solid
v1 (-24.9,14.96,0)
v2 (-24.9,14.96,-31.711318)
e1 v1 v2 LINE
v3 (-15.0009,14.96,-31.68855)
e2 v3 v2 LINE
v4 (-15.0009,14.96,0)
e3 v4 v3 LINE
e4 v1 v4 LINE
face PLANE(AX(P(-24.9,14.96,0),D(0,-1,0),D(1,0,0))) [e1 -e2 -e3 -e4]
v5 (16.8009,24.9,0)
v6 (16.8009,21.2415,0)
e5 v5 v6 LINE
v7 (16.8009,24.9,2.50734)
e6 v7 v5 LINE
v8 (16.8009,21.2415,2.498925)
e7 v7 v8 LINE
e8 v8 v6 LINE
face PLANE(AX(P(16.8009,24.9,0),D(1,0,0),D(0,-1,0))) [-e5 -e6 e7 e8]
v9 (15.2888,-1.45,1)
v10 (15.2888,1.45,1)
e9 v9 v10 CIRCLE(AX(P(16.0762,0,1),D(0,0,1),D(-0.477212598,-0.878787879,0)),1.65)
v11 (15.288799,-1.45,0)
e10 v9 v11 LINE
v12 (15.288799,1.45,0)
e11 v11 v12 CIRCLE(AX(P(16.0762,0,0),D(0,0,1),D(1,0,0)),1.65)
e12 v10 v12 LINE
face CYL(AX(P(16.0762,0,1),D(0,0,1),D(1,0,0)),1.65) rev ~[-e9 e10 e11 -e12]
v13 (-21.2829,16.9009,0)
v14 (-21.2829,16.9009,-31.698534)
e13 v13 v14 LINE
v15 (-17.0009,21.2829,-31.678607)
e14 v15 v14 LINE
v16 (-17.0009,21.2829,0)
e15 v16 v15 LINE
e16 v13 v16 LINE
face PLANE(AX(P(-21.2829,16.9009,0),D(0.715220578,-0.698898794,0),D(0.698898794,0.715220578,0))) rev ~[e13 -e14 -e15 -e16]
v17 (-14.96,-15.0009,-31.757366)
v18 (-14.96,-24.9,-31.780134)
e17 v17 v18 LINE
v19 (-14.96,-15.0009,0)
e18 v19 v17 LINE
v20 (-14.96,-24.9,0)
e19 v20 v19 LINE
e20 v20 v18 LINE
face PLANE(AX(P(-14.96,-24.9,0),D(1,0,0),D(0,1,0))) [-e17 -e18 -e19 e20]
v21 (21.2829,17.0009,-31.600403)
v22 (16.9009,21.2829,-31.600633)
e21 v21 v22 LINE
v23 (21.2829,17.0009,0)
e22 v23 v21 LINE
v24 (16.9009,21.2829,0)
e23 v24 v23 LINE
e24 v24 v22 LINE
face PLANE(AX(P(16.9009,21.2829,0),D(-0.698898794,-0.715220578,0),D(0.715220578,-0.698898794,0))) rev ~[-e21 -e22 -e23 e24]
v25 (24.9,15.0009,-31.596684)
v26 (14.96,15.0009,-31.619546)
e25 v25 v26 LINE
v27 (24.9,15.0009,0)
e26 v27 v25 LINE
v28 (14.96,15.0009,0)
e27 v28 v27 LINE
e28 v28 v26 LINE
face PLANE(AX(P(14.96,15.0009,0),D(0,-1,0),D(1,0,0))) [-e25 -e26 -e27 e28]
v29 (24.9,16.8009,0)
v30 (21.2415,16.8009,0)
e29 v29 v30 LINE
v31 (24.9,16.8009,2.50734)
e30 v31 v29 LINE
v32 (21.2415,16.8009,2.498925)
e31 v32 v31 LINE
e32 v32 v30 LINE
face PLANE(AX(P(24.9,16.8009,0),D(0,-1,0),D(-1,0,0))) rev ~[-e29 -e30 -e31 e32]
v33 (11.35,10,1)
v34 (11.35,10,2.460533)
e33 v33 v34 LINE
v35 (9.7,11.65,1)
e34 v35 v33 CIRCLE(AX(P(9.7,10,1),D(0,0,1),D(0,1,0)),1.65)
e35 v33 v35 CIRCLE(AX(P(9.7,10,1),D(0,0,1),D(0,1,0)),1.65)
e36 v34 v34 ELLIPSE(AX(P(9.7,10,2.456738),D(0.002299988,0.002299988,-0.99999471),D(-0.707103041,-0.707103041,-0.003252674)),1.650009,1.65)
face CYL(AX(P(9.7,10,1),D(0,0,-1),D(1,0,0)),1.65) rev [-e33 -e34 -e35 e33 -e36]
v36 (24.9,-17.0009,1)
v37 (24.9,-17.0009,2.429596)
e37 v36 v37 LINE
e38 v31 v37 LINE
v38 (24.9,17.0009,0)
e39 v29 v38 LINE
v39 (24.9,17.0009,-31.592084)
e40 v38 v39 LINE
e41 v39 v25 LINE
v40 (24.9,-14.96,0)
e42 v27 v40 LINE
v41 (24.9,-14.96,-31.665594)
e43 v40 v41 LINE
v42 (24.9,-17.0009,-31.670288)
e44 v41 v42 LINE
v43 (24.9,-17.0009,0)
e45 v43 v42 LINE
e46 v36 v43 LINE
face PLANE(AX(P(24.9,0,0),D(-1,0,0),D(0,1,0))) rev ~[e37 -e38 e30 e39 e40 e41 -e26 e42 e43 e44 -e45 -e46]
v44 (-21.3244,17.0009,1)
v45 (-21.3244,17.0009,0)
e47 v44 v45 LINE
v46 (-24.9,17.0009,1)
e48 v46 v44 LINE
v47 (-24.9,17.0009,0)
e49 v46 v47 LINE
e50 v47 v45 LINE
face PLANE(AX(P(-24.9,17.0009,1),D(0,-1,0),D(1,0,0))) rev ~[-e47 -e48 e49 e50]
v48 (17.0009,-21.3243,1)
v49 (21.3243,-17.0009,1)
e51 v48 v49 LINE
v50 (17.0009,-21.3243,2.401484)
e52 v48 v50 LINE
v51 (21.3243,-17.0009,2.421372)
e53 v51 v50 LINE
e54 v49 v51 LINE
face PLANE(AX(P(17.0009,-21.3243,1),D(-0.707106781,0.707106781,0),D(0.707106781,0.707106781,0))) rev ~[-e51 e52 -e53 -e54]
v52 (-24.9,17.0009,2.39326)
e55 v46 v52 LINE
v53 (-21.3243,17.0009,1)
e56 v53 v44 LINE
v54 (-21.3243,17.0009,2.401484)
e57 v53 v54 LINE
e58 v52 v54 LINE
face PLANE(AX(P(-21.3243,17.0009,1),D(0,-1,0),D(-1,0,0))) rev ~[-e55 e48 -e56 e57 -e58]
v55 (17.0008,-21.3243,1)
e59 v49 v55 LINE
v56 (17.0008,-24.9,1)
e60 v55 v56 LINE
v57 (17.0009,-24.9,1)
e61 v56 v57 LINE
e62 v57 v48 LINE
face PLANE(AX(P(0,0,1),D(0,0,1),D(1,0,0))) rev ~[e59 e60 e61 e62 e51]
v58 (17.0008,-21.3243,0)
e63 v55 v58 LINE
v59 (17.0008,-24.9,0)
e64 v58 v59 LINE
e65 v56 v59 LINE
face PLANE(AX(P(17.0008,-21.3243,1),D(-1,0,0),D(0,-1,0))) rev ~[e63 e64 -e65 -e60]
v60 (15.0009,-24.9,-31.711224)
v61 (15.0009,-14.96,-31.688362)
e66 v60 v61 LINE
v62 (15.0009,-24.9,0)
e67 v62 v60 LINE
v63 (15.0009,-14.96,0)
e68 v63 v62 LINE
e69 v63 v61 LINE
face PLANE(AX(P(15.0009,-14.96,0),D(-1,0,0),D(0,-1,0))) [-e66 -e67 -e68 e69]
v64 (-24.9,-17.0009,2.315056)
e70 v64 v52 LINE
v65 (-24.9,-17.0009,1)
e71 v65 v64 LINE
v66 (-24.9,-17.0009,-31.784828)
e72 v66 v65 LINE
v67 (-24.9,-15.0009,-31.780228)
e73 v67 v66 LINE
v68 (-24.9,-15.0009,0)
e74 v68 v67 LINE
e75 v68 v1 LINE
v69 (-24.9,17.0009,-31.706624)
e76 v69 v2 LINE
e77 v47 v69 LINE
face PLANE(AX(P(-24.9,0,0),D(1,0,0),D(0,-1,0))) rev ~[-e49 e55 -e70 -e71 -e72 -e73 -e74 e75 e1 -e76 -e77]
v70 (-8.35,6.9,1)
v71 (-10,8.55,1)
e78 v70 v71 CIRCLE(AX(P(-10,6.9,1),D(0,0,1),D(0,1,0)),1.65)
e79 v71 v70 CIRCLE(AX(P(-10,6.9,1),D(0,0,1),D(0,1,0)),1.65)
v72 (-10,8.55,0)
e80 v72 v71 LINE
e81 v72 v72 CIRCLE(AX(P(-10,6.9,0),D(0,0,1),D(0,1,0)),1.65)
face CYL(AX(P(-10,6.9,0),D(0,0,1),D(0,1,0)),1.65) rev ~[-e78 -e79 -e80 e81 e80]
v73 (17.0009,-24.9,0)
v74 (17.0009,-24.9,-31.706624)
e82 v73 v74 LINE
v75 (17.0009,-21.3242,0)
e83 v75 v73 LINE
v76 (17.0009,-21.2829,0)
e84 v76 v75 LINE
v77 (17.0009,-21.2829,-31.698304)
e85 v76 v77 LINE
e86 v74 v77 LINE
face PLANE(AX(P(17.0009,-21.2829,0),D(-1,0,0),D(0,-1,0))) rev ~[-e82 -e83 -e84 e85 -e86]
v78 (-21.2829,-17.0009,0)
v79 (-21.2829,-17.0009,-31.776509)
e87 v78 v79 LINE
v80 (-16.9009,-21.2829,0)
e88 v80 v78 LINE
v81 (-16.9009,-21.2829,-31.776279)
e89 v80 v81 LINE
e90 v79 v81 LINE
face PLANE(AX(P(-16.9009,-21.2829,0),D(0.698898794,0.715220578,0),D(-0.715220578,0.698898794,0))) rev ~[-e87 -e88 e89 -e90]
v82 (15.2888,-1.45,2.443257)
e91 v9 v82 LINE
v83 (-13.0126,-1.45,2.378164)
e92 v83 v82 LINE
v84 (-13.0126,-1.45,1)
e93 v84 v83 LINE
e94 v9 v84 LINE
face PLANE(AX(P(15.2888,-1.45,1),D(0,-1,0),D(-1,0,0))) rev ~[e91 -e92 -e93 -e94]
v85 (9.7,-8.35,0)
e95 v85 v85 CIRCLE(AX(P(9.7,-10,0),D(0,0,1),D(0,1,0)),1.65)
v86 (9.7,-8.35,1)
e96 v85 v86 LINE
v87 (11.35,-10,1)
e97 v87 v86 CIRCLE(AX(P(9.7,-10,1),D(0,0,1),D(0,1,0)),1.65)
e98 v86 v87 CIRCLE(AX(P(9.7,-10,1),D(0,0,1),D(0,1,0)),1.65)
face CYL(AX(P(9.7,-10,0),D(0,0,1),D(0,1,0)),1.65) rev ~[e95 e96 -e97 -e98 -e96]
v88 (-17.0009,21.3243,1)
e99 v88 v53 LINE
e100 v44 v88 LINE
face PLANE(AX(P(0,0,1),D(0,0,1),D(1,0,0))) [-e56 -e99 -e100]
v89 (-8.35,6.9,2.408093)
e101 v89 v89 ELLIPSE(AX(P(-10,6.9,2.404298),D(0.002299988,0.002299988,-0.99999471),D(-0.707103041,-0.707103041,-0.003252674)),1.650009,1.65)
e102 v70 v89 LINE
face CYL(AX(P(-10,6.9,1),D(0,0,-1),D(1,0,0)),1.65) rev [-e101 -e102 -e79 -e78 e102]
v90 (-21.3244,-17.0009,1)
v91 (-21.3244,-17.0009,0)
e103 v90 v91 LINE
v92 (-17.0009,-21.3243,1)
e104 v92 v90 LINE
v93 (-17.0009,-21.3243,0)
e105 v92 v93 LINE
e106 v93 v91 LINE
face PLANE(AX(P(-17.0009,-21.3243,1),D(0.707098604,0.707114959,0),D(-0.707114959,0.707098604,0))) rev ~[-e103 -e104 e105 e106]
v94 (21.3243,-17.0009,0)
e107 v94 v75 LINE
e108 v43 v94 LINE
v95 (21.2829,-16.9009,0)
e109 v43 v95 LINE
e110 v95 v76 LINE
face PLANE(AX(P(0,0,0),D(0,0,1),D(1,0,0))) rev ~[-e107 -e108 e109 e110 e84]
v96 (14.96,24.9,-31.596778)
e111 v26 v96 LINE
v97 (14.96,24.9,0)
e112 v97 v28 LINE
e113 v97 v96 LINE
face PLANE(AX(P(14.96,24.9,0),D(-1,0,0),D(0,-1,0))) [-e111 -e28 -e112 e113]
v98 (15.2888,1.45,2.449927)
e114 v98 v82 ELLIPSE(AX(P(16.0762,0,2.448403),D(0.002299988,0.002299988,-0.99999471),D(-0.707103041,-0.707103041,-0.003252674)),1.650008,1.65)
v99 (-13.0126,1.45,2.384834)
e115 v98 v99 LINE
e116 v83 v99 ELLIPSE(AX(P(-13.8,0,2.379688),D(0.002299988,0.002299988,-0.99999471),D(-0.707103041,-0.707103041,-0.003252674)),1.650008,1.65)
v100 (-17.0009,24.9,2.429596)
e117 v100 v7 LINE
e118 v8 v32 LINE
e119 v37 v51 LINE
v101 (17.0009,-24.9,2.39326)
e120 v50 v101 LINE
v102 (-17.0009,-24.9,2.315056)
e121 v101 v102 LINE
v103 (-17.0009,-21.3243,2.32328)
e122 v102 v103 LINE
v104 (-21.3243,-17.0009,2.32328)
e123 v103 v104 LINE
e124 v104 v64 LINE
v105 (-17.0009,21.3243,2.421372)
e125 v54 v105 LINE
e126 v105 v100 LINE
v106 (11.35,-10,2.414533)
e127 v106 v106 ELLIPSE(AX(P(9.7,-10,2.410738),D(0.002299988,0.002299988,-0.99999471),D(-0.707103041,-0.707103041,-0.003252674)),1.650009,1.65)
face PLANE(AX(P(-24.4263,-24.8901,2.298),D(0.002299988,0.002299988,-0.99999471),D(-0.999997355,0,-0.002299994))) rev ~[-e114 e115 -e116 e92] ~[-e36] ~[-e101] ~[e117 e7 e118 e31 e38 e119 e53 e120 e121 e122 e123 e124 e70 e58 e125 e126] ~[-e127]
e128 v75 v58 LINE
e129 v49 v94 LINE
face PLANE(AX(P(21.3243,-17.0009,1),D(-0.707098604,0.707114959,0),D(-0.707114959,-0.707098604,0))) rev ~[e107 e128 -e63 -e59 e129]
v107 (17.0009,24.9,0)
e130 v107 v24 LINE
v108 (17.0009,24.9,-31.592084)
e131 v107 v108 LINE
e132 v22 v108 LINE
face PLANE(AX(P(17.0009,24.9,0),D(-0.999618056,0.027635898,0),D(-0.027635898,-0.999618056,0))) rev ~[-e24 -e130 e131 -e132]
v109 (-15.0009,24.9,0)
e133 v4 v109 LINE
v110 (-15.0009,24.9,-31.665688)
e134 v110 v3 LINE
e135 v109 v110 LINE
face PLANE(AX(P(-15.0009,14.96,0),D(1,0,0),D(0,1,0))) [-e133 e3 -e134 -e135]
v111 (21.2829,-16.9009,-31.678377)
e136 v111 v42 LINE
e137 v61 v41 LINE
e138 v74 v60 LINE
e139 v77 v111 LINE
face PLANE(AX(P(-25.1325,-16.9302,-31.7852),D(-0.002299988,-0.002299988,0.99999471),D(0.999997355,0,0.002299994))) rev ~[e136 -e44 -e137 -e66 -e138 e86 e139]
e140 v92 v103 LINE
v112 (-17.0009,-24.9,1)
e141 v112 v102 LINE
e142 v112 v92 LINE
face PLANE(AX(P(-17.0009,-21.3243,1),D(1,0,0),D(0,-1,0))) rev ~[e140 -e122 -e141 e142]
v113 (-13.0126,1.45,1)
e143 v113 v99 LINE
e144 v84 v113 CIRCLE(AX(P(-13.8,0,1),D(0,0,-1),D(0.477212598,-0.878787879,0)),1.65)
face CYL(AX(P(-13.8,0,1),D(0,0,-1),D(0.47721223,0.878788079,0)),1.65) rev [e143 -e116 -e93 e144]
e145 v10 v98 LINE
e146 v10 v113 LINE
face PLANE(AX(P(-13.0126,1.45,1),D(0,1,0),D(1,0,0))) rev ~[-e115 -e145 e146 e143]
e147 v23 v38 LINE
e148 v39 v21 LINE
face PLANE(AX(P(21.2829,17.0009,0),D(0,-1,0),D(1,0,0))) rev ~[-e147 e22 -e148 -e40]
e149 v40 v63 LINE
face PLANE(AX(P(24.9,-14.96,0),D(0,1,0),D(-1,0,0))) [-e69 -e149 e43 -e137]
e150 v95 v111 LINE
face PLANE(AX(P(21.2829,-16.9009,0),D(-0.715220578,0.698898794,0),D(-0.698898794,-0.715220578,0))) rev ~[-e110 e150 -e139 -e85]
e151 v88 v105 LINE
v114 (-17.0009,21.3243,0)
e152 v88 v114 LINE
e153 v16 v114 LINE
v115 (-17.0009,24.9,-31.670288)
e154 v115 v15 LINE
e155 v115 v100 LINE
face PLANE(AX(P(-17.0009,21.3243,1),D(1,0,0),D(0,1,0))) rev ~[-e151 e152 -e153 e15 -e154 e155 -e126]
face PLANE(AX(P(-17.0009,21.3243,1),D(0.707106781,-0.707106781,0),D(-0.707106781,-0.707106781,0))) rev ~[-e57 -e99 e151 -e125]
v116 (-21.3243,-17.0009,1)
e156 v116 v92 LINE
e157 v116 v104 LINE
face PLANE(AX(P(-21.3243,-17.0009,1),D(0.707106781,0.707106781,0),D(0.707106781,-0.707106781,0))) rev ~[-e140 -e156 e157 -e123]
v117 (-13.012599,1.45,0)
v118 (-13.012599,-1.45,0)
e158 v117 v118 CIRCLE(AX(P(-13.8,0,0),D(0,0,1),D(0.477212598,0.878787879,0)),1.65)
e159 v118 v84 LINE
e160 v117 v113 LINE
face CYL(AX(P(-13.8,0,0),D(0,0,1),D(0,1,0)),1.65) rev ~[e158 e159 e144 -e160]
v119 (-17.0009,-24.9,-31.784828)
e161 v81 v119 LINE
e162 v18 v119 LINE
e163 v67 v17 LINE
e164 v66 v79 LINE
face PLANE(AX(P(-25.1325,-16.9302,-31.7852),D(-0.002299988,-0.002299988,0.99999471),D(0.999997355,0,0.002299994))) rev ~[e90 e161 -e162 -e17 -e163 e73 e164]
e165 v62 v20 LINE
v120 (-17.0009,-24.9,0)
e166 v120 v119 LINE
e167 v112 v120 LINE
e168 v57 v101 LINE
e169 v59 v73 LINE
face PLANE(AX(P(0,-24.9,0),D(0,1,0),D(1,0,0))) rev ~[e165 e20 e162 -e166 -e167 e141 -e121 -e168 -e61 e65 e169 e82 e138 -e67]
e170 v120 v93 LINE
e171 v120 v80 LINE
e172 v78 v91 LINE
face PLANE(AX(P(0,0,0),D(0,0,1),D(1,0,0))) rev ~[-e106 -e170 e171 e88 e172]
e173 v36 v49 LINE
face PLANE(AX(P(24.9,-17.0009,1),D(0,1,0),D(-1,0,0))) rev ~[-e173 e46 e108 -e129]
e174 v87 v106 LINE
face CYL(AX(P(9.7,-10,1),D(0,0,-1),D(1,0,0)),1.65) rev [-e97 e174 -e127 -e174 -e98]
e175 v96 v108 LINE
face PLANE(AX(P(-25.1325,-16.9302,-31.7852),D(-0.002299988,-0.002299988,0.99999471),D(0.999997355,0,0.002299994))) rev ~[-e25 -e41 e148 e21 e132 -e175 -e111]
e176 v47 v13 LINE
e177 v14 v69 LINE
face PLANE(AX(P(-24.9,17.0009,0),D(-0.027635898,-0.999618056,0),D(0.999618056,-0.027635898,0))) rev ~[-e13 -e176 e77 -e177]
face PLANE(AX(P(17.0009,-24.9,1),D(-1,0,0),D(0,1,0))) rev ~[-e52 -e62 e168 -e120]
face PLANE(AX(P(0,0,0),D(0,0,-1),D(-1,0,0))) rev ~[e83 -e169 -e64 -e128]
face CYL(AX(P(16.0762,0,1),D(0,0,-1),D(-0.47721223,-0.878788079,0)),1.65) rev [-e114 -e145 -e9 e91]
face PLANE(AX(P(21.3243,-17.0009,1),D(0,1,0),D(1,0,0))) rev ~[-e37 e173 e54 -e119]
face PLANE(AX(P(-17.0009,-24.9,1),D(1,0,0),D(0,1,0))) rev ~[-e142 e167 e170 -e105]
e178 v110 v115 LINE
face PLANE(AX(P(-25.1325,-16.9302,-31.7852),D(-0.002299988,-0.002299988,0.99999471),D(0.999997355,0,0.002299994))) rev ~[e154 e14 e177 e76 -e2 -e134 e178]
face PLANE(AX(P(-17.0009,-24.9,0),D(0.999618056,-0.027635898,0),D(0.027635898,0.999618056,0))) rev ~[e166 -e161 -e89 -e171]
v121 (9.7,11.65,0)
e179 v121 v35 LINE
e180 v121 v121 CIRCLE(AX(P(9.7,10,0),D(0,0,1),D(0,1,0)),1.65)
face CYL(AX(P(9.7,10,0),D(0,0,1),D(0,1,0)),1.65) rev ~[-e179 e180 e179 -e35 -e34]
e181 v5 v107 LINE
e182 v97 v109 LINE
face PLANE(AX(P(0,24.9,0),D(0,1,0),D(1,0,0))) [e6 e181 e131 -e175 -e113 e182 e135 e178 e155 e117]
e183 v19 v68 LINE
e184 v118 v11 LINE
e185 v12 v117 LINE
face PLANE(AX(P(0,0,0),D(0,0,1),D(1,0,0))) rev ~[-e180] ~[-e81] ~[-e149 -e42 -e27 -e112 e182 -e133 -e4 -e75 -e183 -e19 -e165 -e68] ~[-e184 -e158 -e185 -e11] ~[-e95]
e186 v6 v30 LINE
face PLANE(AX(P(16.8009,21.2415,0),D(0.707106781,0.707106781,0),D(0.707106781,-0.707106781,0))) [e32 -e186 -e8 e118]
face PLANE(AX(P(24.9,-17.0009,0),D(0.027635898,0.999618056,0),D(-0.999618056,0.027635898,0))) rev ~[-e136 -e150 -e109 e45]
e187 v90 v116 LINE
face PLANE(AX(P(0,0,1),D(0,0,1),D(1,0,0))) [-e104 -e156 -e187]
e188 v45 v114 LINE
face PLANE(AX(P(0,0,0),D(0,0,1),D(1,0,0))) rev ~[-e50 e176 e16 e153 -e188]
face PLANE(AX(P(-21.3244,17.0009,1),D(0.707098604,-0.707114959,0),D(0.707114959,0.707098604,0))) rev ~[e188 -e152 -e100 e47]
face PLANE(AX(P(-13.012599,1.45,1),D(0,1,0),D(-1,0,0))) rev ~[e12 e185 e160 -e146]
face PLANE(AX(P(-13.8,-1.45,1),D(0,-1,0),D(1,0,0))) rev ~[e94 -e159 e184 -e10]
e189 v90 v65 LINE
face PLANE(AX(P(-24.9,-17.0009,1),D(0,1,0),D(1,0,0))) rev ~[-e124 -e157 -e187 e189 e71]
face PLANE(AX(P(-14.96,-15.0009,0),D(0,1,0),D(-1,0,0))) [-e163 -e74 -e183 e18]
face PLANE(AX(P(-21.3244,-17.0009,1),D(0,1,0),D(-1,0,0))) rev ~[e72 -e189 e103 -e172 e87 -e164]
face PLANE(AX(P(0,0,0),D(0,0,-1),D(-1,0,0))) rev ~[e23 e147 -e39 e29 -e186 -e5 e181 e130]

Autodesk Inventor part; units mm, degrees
ref_plane "Work Plane1" through (-29.1, -14.5, 2.4) normal (0, 0, -1) x (0, 1, 0)
ref_plane "Work Plane2" through (-13.8999, -10.5497, 2.25) normal (0, 0, -1) x (0, 1, 0)
ref_plane "Work Plane4" through (-17.3325, -17.0101, 2.3331) normal (0.0023, 0.0023, -1) x (0, 1, 0.0023)
sketch "Sketch1" plane through (0, 0, 0) normal (0, 0, 1) x (1, 0, 0)
  line L0 (-34.86, 0) -> (34.86, 0) construction
  line L1 (0, -34.86) -> (0, 34.86) construction
  line L2 (0, 0) -> (11.1575, 11.1575) construction
  line L3 (0, 0) -> (15.7791, 0) construction
  line L4 (0, 24.9) -> (16.8009, 24.9)
  line L5 (16.8009, 24.9) -> (16.8009, 21.2415)
  line L6 (16.8009, 21.2415) -> (19.0212, 19.0212)
  line L7 (24.9, 0) -> (24.9, 16.8009)
  line L8 (24.9, 16.8009) -> (21.2415, 16.8009)
  line L9 (21.2415, 16.8009) -> (19.0212, 19.0212)
  line L10 (0, -24.9) -> (16.8009, -24.9)
  line L11 (16.8009, -24.9) -> (16.8009, -21.2415)
  line L12 (16.8009, -21.2415) -> (19.0212, -19.0212)
  line L13 (24.9, 0) -> (24.9, -16.8009)
  line L14 (24.9, -16.8009) -> (21.2415, -16.8009)
  line L15 (21.2415, -16.8009) -> (19.0212, -19.0212)
  line L16 (0, 24.9) -> (-16.8009, 24.9)
  line L17 (-16.8009, 24.9) -> (-16.8009, 21.2415)
  line L18 (-16.8009, 21.2415) -> (-19.0212, 19.0212)
  line L19 (-24.9, 16.8009) -> (-21.2415, 16.8009)
  line L20 (-21.2415, 16.8009) -> (-19.0212, 19.0212)
  line L21 (0, -24.9) -> (-16.8009, -24.9)
  line L22 (-16.8009, -24.9) -> (-16.8009, -21.2415)
  line L23 (-16.8009, -21.2415) -> (-19.0212, -19.0212)
  line L24 (-21.2415, -16.8009) -> (-19.0212, -19.0212)
  line L25 (-24.9, -16.8009) -> (-21.2415, -16.8009)
  line L26 (-24.9, 0) -> (-24.9, -16.8009)
  line L27 (-24.9, 0) -> (-24.9, 16.8009)
  circle A0 centre (0, 0) radius 10
  dimension "d0" = 45
  dimension "d2" = 24.9
  dimension "d3" = 3.14
  dimension "d4" = 26.9
  dimension "d5" = 20
extrude "Extrusion1" add sketch "Sketch1" along normal blind 1 contours L4 L5 L6 L9 L8 L7 L13 L14 L15 L12 L11 L10 L21 L22 L23 L24 L25 L26 L27 L19 L20 L18 L17 L16 | A0
sketch "Sketch5" plane through (0, 0, 0) normal (0, 0, -1) x (-1, 0, 0)
  circle A0 centre (-9.7, 10) radius 1.4
  circle A1 centre (-9.7, -10) radius 1.4
  circle A2 centre (13.8, 0) radius 1.4
  circle A3 centre (-10, 6.9) radius 0.75
  circle A4 centre (10, 6.9) radius 1.25
  point P0 (0, 0)
hole "Hole1" at (-13.8, 0, 0) at (9.7, -10, 0) at (-10, 6.9, 0) at (9.7, 10, 0) direction (0, 0, 1) diameter 3.3 depth 12 tip angle 118
sketch "Skizze6" plane through (-16.8009, 24.9, 1) normal (0, 0, 1) x (1, 0, 0)
  circle A0 centre (6.8009, -18) radius 1.65 construction
  circle A1 centre (3.0009, -24.9) radius 1.65 construction
  circle A2 centre (26.5009, -34.9) radius 1.65 construction
  circle A3 centre (26.5009, -14.9) radius 1.65 construction
  line L0 (33.6017, -3.6585) -> (33.6017, 0) projected
  line L1 (33.6017, 0) -> (0, 0) construction
  line L2 (0, 0) -> (0, -3.6585) projected
  line L3 (0, -3.6585) -> (-4.4406, -8.0991) projected
  line L4 (-4.4406, -8.0991) -> (-8.0991, -8.0991) projected
  line L5 (-8.0991, -8.0991) -> (-8.0991, -41.7009) construction
  line L6 (-8.0991, -41.7009) -> (-4.4406, -41.7009) projected
  line L7 (-4.4406, -41.7009) -> (0, -46.1415) projected
  line L8 (0, -46.1415) -> (0, -49.8) projected
  line L9 (0, -49.8) -> (33.6017, -49.8) construction
  line L10 (33.6017, -49.8) -> (33.6017, -46.1415) projected
  line L11 (33.6017, -46.1415) -> (38.0423, -41.7009) projected
  line L12 (38.0423, -41.7009) -> (41.7009, -41.7009) projected
  line L13 (41.7009, -41.7009) -> (41.7009, -8.0991) construction
  line L14 (41.7009, -8.0991) -> (38.0423, -8.0991) projected
  line L15 (38.0423, -8.0991) -> (33.6017, -3.6585) projected
  line L16 (-0.2, 0.2) -> (33.8017, 0.2) construction
  line L17 (33.8017, 0.2) -> (33.8017, -3.5757)
  line L18 (33.8017, -3.5757) -> (38.1252, -7.8991)
  line L19 (38.1252, -7.8991) -> (41.9009, -7.8991)
  line L20 (41.9009, -7.8991) -> (41.9009, -41.9009) construction
  line L21 (41.9009, -41.9009) -> (38.1252, -41.9009)
  line L22 (38.1252, -41.9009) -> (33.8017, -46.2243)
  line L23 (33.8017, -46.2243) -> (33.8017, -50)
  line L24 (33.8017, -50) -> (-0.2, -50) construction
  line L25 (-0.2, -50) -> (-0.2, -46.2243)
  line L26 (-0.2, -46.2243) -> (-4.5235, -41.9009)
  line L27 (-4.5235, -41.9009) -> (-8.2991, -41.9009)
  line L28 (-8.2991, -41.9009) -> (-8.2991, -7.8991) construction
  line L29 (-8.2991, -7.8991) -> (-4.5235, -7.8991)
  line L30 (-4.5235, -7.8991) -> (-0.2, -3.5757)
  line L31 (-0.2, -3.5757) -> (-0.2, 0.2)
  line L32 (-8.0991, -8.0991) -> (-8.0991, -7.8991)
  line L33 (0, 0) -> (-0.2, 0)
  line L34 (33.6017, 0) -> (33.8017, 0)
  line L35 (41.7009, -8.0991) -> (38.0423, -8.0991) projected
  line L36 (41.7009, -8.0991) -> (41.7009, -7.8991)
  line L37 (41.7009, -41.7009) -> (41.7009, -41.9009)
  line L38 (33.6017, -49.8) -> (33.8017, -49.8)
  line L39 (-8.0991, -41.7009) -> (-8.0991, -41.9009)
  line L40 (0, -49.8) -> (-0.2, -49.8)
  point P0 (16.8009, -24.9)
  dimension "d25" = 0.2
extrude "IM_offset" add sketch "Skizze6" against normal blind 1 contours L2 L3 L4 L32 L29 L30 L31 L33 | L6 L7 L8 L40 L25 L26 L27 L39 | L10 L11 L12 L37 L21 L22 L23 L38
sketch "Sketch7" plane through (-24.9, 16.9009, 1) normal (0, 0, 1) x (1, 0, 0)
  circle A0 centre (11.1, -16.9009) radius 1.65
  line L0 (11.1, -16.9009) -> (40.9762, -16.9009) construction
  line L1 (11.1, -18.3509) -> (40.9762, -18.3509)
  line L2 (40.9762, -15.4509) -> (11.1, -15.4509)
  arc A1 (11.1, -15.4509) -> (11.1, -18.3509) centre (11.1, -16.9009) ccw
  arc A2 (40.9762, -18.3509) -> (40.9762, -15.4509) centre (40.9762, -16.9009) ccw
  circle A3 centre (40.9762, -16.9009) radius 1.65
  point P0 (24.9, -16.9009)
  point P1 (26.0381, -16.9009)
  dimension "d28" = 2.9
extrude "Extrusion6" cut sketch "Sketch7" against normal blind 10 contours A0 L1 A1 L2 | A0 L2 A3 L1 | A3 L1 A2 L2 | L2 A2 L1 A3 picked at (11.65, -16.9009)
ref_plane "Work Plane3" through (-24.85, -16.97, -31.85) normal (0, 0, 1) x (1, 0, 0)
sketch "Sketch9" plane through (0, 0, 0) normal (0, 0, -1) x (-1, 0, 0)
  line L0 (21.2829, 16.9009) -> (17.0009, 21.2829)
  line L1 (17.0009, 21.2829) -> (17.0009, 24.9)
  line L2 (24.9, 17.0009) -> (21.2829, 16.9009)
  line L3 (24.9, -17.0009) -> (24.9, 17.0009) projected
  line L4 (17.0009, 24.9) -> (-16.8009, 24.9) projected
  line L5 (24.9, 14.96) -> (15.0009, 14.96)
  line L6 (15.0009, 14.96) -> (15.0009, 24.9)
  line L7 (15.0009, 24.9) -> (17.0009, 24.9)
  line L8 (24.9, 17.0009) -> (24.9, 14.96)
  line L9 (-16.9009, 21.2829) -> (-21.2829, 17.0009)
  line L10 (-21.2829, 17.0009) -> (-24.9, 17.0009)
  line L11 (-17.0009, 24.9) -> (-16.9009, 21.2829)
  line L12 (-14.96, 24.9) -> (-14.96, 15.0009)
  line L13 (-14.96, 15.0009) -> (-24.9, 15.0009)
  line L14 (-24.9, 15.0009) -> (-24.9, 17.0009)
  line L15 (-17.0009, 24.9) -> (-14.96, 24.9)
  line L16 (-21.2829, -16.9009) -> (-17.0009, -21.2829)
  line L17 (-17.0009, -21.2829) -> (-17.0009, -24.9)
  line L18 (-24.9, -17.0009) -> (-21.2829, -16.9009)
  line L19 (-24.9, -14.96) -> (-15.0009, -14.96)
  line L20 (-15.0009, -14.96) -> (-15.0009, -24.9)
  line L21 (-15.0009, -24.9) -> (-17.0009, -24.9)
  line L22 (-24.9, -17.0009) -> (-24.9, -14.96)
  line L23 (16.9009, -21.2829) -> (21.2829, -17.0009)
  line L24 (21.2829, -17.0009) -> (24.9, -17.0009)
  line L25 (17.0009, -24.9) -> (16.9009, -21.2829)
  line L26 (14.96, -24.9) -> (14.96, -15.0009)
  line L27 (14.96, -15.0009) -> (24.9, -15.0009)
  line L28 (24.9, -15.0009) -> (24.9, -17.0009)
  line L29 (17.0009, -24.9) -> (14.96, -24.9)
  point P0 (0, 0)
  dimension "d44" = 2
  dimension "d47" = 360
ref_plane "Work Plane5" through (-25.1325, -16.9302, -31.7852) normal (-0.0023, -0.0023, 1) x (1, 0, 0.0023)
extrude "Extrusion9" add sketch "Sketch9" along normal up to surface surface through (-25.1325, -16.9302, -31.7852) normal (-0.0023, -0.0023, 1)
ref_plane "Work Plane6" through (-16.5464, -17.0101, 2.3349) normal (0.0023, 0.0023, -1) x (0, 1, 0.0023)
sketch "Sketch11" plane through (0, 0, 1) normal (0, 0, 1) x (1, 0, 0)
  circle A0 centre (-10, 6.9) radius 1.65 projected
  circle A1 centre (9.7, 10) radius 1.65 projected
  circle A2 centre (9.7, -10) radius 1.65 projected
  arc A3 (-13.0126, 1.45) -> (-13.0126, -1.45) centre (-13.8, 0) ccw projected
  line L0 (-13.0126, 1.45) -> (15.2888, 1.45) projected
  line L1 (15.2888, -1.45) -> (-13.0126, -1.45) projected
  arc A4 (15.2888, -1.45) -> (15.2888, 1.45) centre (16.0762, 0) ccw projected
  line L2 (16.8009, 24.9) -> (-17.0009, 24.9) projected
  line L3 (-17.0009, 24.9) -> (-17.0009, 21.3243) projected
  line L4 (-17.0009, 21.3243) -> (-21.3243, 17.0009) projected
  line L5 (-21.3243, 17.0009) -> (-24.9, 17.0009) projected
  line L6 (-24.9, 17.0009) -> (-24.9, -17.0009) projected
  line L7 (-24.9, -17.0009) -> (-21.3243, -17.0009) projected
  line L8 (-21.3243, -17.0009) -> (-17.0009, -21.3243) projected
  line L9 (-17.0009, -21.3243) -> (-17.0009, -24.9) projected
  line L10 (-17.0009, -24.9) -> (17.0009, -24.9) projected
  line L11 (17.0009, -24.9) -> (17.0009, -21.3243) projected
  line L12 (17.0009, -21.3243) -> (21.3243, -17.0009) projected
  line L13 (21.3243, -17.0009) -> (24.9, -17.0009) projected
  line L14 (24.9, -17.0009) -> (24.9, 16.8009) projected
  line L15 (24.9, 16.8009) -> (21.2415, 16.8009) projected
  line L16 (21.2415, 16.8009) -> (16.8009, 21.2415) projected
  line L17 (16.8009, 21.2415) -> (16.8009, 24.9) projected
  circle A5 centre (9.7, 10) radius 1.65 projected
  circle A6 centre (9.7, -10) radius 1.65 projected
  line L18 (-13.0126, 1.45) -> (15.2888, 1.45) projected
  arc A7 (15.2888, -1.45) -> (15.2888, 1.45) centre (16.0762, 0) ccw projected
  line L19 (15.2888, -1.45) -> (-13.0126, -1.45) projected
  arc A8 (-13.0126, 1.45) -> (-13.0126, -1.45) centre (-13.8, 0) ccw projected
  circle A9 centre (-10, 6.9) radius 1.65 projected
  point P0 (0, 0)
ref_plane "Work Plane7" through (-24.4263, -24.8901, 2.298) normal (0.0023, 0.0023, -1) x (0, 1, 0.0023)
extrude "Extrusion11" add sketch "Sketch11" along normal up to surface surface through (-24.4263, -24.8901, 2.298) normal (0.0023, 0.0023, -1)
equation "\"BendRadius\" = Thickness"
equation "\"BendReliefWidth\" = Thickness"
equation "\"BendReliefDepth\" = 0.5 * Thickness"
equation "\"CornerReliefSize\" = 4 * Thickness"
equation "\"MinimumRemnant\" = 2 * Thickness"
equation "\"TransitionRadius\" = BendRadius"
equation "\"JacobiRadiusSize\" = Thickness"
equation "\"GapSize\" = Thickness"
equation "\"Thickness\" = 0.5"
properties part number "20_Cube_insert_AlliedVision_Alvium_v3"
